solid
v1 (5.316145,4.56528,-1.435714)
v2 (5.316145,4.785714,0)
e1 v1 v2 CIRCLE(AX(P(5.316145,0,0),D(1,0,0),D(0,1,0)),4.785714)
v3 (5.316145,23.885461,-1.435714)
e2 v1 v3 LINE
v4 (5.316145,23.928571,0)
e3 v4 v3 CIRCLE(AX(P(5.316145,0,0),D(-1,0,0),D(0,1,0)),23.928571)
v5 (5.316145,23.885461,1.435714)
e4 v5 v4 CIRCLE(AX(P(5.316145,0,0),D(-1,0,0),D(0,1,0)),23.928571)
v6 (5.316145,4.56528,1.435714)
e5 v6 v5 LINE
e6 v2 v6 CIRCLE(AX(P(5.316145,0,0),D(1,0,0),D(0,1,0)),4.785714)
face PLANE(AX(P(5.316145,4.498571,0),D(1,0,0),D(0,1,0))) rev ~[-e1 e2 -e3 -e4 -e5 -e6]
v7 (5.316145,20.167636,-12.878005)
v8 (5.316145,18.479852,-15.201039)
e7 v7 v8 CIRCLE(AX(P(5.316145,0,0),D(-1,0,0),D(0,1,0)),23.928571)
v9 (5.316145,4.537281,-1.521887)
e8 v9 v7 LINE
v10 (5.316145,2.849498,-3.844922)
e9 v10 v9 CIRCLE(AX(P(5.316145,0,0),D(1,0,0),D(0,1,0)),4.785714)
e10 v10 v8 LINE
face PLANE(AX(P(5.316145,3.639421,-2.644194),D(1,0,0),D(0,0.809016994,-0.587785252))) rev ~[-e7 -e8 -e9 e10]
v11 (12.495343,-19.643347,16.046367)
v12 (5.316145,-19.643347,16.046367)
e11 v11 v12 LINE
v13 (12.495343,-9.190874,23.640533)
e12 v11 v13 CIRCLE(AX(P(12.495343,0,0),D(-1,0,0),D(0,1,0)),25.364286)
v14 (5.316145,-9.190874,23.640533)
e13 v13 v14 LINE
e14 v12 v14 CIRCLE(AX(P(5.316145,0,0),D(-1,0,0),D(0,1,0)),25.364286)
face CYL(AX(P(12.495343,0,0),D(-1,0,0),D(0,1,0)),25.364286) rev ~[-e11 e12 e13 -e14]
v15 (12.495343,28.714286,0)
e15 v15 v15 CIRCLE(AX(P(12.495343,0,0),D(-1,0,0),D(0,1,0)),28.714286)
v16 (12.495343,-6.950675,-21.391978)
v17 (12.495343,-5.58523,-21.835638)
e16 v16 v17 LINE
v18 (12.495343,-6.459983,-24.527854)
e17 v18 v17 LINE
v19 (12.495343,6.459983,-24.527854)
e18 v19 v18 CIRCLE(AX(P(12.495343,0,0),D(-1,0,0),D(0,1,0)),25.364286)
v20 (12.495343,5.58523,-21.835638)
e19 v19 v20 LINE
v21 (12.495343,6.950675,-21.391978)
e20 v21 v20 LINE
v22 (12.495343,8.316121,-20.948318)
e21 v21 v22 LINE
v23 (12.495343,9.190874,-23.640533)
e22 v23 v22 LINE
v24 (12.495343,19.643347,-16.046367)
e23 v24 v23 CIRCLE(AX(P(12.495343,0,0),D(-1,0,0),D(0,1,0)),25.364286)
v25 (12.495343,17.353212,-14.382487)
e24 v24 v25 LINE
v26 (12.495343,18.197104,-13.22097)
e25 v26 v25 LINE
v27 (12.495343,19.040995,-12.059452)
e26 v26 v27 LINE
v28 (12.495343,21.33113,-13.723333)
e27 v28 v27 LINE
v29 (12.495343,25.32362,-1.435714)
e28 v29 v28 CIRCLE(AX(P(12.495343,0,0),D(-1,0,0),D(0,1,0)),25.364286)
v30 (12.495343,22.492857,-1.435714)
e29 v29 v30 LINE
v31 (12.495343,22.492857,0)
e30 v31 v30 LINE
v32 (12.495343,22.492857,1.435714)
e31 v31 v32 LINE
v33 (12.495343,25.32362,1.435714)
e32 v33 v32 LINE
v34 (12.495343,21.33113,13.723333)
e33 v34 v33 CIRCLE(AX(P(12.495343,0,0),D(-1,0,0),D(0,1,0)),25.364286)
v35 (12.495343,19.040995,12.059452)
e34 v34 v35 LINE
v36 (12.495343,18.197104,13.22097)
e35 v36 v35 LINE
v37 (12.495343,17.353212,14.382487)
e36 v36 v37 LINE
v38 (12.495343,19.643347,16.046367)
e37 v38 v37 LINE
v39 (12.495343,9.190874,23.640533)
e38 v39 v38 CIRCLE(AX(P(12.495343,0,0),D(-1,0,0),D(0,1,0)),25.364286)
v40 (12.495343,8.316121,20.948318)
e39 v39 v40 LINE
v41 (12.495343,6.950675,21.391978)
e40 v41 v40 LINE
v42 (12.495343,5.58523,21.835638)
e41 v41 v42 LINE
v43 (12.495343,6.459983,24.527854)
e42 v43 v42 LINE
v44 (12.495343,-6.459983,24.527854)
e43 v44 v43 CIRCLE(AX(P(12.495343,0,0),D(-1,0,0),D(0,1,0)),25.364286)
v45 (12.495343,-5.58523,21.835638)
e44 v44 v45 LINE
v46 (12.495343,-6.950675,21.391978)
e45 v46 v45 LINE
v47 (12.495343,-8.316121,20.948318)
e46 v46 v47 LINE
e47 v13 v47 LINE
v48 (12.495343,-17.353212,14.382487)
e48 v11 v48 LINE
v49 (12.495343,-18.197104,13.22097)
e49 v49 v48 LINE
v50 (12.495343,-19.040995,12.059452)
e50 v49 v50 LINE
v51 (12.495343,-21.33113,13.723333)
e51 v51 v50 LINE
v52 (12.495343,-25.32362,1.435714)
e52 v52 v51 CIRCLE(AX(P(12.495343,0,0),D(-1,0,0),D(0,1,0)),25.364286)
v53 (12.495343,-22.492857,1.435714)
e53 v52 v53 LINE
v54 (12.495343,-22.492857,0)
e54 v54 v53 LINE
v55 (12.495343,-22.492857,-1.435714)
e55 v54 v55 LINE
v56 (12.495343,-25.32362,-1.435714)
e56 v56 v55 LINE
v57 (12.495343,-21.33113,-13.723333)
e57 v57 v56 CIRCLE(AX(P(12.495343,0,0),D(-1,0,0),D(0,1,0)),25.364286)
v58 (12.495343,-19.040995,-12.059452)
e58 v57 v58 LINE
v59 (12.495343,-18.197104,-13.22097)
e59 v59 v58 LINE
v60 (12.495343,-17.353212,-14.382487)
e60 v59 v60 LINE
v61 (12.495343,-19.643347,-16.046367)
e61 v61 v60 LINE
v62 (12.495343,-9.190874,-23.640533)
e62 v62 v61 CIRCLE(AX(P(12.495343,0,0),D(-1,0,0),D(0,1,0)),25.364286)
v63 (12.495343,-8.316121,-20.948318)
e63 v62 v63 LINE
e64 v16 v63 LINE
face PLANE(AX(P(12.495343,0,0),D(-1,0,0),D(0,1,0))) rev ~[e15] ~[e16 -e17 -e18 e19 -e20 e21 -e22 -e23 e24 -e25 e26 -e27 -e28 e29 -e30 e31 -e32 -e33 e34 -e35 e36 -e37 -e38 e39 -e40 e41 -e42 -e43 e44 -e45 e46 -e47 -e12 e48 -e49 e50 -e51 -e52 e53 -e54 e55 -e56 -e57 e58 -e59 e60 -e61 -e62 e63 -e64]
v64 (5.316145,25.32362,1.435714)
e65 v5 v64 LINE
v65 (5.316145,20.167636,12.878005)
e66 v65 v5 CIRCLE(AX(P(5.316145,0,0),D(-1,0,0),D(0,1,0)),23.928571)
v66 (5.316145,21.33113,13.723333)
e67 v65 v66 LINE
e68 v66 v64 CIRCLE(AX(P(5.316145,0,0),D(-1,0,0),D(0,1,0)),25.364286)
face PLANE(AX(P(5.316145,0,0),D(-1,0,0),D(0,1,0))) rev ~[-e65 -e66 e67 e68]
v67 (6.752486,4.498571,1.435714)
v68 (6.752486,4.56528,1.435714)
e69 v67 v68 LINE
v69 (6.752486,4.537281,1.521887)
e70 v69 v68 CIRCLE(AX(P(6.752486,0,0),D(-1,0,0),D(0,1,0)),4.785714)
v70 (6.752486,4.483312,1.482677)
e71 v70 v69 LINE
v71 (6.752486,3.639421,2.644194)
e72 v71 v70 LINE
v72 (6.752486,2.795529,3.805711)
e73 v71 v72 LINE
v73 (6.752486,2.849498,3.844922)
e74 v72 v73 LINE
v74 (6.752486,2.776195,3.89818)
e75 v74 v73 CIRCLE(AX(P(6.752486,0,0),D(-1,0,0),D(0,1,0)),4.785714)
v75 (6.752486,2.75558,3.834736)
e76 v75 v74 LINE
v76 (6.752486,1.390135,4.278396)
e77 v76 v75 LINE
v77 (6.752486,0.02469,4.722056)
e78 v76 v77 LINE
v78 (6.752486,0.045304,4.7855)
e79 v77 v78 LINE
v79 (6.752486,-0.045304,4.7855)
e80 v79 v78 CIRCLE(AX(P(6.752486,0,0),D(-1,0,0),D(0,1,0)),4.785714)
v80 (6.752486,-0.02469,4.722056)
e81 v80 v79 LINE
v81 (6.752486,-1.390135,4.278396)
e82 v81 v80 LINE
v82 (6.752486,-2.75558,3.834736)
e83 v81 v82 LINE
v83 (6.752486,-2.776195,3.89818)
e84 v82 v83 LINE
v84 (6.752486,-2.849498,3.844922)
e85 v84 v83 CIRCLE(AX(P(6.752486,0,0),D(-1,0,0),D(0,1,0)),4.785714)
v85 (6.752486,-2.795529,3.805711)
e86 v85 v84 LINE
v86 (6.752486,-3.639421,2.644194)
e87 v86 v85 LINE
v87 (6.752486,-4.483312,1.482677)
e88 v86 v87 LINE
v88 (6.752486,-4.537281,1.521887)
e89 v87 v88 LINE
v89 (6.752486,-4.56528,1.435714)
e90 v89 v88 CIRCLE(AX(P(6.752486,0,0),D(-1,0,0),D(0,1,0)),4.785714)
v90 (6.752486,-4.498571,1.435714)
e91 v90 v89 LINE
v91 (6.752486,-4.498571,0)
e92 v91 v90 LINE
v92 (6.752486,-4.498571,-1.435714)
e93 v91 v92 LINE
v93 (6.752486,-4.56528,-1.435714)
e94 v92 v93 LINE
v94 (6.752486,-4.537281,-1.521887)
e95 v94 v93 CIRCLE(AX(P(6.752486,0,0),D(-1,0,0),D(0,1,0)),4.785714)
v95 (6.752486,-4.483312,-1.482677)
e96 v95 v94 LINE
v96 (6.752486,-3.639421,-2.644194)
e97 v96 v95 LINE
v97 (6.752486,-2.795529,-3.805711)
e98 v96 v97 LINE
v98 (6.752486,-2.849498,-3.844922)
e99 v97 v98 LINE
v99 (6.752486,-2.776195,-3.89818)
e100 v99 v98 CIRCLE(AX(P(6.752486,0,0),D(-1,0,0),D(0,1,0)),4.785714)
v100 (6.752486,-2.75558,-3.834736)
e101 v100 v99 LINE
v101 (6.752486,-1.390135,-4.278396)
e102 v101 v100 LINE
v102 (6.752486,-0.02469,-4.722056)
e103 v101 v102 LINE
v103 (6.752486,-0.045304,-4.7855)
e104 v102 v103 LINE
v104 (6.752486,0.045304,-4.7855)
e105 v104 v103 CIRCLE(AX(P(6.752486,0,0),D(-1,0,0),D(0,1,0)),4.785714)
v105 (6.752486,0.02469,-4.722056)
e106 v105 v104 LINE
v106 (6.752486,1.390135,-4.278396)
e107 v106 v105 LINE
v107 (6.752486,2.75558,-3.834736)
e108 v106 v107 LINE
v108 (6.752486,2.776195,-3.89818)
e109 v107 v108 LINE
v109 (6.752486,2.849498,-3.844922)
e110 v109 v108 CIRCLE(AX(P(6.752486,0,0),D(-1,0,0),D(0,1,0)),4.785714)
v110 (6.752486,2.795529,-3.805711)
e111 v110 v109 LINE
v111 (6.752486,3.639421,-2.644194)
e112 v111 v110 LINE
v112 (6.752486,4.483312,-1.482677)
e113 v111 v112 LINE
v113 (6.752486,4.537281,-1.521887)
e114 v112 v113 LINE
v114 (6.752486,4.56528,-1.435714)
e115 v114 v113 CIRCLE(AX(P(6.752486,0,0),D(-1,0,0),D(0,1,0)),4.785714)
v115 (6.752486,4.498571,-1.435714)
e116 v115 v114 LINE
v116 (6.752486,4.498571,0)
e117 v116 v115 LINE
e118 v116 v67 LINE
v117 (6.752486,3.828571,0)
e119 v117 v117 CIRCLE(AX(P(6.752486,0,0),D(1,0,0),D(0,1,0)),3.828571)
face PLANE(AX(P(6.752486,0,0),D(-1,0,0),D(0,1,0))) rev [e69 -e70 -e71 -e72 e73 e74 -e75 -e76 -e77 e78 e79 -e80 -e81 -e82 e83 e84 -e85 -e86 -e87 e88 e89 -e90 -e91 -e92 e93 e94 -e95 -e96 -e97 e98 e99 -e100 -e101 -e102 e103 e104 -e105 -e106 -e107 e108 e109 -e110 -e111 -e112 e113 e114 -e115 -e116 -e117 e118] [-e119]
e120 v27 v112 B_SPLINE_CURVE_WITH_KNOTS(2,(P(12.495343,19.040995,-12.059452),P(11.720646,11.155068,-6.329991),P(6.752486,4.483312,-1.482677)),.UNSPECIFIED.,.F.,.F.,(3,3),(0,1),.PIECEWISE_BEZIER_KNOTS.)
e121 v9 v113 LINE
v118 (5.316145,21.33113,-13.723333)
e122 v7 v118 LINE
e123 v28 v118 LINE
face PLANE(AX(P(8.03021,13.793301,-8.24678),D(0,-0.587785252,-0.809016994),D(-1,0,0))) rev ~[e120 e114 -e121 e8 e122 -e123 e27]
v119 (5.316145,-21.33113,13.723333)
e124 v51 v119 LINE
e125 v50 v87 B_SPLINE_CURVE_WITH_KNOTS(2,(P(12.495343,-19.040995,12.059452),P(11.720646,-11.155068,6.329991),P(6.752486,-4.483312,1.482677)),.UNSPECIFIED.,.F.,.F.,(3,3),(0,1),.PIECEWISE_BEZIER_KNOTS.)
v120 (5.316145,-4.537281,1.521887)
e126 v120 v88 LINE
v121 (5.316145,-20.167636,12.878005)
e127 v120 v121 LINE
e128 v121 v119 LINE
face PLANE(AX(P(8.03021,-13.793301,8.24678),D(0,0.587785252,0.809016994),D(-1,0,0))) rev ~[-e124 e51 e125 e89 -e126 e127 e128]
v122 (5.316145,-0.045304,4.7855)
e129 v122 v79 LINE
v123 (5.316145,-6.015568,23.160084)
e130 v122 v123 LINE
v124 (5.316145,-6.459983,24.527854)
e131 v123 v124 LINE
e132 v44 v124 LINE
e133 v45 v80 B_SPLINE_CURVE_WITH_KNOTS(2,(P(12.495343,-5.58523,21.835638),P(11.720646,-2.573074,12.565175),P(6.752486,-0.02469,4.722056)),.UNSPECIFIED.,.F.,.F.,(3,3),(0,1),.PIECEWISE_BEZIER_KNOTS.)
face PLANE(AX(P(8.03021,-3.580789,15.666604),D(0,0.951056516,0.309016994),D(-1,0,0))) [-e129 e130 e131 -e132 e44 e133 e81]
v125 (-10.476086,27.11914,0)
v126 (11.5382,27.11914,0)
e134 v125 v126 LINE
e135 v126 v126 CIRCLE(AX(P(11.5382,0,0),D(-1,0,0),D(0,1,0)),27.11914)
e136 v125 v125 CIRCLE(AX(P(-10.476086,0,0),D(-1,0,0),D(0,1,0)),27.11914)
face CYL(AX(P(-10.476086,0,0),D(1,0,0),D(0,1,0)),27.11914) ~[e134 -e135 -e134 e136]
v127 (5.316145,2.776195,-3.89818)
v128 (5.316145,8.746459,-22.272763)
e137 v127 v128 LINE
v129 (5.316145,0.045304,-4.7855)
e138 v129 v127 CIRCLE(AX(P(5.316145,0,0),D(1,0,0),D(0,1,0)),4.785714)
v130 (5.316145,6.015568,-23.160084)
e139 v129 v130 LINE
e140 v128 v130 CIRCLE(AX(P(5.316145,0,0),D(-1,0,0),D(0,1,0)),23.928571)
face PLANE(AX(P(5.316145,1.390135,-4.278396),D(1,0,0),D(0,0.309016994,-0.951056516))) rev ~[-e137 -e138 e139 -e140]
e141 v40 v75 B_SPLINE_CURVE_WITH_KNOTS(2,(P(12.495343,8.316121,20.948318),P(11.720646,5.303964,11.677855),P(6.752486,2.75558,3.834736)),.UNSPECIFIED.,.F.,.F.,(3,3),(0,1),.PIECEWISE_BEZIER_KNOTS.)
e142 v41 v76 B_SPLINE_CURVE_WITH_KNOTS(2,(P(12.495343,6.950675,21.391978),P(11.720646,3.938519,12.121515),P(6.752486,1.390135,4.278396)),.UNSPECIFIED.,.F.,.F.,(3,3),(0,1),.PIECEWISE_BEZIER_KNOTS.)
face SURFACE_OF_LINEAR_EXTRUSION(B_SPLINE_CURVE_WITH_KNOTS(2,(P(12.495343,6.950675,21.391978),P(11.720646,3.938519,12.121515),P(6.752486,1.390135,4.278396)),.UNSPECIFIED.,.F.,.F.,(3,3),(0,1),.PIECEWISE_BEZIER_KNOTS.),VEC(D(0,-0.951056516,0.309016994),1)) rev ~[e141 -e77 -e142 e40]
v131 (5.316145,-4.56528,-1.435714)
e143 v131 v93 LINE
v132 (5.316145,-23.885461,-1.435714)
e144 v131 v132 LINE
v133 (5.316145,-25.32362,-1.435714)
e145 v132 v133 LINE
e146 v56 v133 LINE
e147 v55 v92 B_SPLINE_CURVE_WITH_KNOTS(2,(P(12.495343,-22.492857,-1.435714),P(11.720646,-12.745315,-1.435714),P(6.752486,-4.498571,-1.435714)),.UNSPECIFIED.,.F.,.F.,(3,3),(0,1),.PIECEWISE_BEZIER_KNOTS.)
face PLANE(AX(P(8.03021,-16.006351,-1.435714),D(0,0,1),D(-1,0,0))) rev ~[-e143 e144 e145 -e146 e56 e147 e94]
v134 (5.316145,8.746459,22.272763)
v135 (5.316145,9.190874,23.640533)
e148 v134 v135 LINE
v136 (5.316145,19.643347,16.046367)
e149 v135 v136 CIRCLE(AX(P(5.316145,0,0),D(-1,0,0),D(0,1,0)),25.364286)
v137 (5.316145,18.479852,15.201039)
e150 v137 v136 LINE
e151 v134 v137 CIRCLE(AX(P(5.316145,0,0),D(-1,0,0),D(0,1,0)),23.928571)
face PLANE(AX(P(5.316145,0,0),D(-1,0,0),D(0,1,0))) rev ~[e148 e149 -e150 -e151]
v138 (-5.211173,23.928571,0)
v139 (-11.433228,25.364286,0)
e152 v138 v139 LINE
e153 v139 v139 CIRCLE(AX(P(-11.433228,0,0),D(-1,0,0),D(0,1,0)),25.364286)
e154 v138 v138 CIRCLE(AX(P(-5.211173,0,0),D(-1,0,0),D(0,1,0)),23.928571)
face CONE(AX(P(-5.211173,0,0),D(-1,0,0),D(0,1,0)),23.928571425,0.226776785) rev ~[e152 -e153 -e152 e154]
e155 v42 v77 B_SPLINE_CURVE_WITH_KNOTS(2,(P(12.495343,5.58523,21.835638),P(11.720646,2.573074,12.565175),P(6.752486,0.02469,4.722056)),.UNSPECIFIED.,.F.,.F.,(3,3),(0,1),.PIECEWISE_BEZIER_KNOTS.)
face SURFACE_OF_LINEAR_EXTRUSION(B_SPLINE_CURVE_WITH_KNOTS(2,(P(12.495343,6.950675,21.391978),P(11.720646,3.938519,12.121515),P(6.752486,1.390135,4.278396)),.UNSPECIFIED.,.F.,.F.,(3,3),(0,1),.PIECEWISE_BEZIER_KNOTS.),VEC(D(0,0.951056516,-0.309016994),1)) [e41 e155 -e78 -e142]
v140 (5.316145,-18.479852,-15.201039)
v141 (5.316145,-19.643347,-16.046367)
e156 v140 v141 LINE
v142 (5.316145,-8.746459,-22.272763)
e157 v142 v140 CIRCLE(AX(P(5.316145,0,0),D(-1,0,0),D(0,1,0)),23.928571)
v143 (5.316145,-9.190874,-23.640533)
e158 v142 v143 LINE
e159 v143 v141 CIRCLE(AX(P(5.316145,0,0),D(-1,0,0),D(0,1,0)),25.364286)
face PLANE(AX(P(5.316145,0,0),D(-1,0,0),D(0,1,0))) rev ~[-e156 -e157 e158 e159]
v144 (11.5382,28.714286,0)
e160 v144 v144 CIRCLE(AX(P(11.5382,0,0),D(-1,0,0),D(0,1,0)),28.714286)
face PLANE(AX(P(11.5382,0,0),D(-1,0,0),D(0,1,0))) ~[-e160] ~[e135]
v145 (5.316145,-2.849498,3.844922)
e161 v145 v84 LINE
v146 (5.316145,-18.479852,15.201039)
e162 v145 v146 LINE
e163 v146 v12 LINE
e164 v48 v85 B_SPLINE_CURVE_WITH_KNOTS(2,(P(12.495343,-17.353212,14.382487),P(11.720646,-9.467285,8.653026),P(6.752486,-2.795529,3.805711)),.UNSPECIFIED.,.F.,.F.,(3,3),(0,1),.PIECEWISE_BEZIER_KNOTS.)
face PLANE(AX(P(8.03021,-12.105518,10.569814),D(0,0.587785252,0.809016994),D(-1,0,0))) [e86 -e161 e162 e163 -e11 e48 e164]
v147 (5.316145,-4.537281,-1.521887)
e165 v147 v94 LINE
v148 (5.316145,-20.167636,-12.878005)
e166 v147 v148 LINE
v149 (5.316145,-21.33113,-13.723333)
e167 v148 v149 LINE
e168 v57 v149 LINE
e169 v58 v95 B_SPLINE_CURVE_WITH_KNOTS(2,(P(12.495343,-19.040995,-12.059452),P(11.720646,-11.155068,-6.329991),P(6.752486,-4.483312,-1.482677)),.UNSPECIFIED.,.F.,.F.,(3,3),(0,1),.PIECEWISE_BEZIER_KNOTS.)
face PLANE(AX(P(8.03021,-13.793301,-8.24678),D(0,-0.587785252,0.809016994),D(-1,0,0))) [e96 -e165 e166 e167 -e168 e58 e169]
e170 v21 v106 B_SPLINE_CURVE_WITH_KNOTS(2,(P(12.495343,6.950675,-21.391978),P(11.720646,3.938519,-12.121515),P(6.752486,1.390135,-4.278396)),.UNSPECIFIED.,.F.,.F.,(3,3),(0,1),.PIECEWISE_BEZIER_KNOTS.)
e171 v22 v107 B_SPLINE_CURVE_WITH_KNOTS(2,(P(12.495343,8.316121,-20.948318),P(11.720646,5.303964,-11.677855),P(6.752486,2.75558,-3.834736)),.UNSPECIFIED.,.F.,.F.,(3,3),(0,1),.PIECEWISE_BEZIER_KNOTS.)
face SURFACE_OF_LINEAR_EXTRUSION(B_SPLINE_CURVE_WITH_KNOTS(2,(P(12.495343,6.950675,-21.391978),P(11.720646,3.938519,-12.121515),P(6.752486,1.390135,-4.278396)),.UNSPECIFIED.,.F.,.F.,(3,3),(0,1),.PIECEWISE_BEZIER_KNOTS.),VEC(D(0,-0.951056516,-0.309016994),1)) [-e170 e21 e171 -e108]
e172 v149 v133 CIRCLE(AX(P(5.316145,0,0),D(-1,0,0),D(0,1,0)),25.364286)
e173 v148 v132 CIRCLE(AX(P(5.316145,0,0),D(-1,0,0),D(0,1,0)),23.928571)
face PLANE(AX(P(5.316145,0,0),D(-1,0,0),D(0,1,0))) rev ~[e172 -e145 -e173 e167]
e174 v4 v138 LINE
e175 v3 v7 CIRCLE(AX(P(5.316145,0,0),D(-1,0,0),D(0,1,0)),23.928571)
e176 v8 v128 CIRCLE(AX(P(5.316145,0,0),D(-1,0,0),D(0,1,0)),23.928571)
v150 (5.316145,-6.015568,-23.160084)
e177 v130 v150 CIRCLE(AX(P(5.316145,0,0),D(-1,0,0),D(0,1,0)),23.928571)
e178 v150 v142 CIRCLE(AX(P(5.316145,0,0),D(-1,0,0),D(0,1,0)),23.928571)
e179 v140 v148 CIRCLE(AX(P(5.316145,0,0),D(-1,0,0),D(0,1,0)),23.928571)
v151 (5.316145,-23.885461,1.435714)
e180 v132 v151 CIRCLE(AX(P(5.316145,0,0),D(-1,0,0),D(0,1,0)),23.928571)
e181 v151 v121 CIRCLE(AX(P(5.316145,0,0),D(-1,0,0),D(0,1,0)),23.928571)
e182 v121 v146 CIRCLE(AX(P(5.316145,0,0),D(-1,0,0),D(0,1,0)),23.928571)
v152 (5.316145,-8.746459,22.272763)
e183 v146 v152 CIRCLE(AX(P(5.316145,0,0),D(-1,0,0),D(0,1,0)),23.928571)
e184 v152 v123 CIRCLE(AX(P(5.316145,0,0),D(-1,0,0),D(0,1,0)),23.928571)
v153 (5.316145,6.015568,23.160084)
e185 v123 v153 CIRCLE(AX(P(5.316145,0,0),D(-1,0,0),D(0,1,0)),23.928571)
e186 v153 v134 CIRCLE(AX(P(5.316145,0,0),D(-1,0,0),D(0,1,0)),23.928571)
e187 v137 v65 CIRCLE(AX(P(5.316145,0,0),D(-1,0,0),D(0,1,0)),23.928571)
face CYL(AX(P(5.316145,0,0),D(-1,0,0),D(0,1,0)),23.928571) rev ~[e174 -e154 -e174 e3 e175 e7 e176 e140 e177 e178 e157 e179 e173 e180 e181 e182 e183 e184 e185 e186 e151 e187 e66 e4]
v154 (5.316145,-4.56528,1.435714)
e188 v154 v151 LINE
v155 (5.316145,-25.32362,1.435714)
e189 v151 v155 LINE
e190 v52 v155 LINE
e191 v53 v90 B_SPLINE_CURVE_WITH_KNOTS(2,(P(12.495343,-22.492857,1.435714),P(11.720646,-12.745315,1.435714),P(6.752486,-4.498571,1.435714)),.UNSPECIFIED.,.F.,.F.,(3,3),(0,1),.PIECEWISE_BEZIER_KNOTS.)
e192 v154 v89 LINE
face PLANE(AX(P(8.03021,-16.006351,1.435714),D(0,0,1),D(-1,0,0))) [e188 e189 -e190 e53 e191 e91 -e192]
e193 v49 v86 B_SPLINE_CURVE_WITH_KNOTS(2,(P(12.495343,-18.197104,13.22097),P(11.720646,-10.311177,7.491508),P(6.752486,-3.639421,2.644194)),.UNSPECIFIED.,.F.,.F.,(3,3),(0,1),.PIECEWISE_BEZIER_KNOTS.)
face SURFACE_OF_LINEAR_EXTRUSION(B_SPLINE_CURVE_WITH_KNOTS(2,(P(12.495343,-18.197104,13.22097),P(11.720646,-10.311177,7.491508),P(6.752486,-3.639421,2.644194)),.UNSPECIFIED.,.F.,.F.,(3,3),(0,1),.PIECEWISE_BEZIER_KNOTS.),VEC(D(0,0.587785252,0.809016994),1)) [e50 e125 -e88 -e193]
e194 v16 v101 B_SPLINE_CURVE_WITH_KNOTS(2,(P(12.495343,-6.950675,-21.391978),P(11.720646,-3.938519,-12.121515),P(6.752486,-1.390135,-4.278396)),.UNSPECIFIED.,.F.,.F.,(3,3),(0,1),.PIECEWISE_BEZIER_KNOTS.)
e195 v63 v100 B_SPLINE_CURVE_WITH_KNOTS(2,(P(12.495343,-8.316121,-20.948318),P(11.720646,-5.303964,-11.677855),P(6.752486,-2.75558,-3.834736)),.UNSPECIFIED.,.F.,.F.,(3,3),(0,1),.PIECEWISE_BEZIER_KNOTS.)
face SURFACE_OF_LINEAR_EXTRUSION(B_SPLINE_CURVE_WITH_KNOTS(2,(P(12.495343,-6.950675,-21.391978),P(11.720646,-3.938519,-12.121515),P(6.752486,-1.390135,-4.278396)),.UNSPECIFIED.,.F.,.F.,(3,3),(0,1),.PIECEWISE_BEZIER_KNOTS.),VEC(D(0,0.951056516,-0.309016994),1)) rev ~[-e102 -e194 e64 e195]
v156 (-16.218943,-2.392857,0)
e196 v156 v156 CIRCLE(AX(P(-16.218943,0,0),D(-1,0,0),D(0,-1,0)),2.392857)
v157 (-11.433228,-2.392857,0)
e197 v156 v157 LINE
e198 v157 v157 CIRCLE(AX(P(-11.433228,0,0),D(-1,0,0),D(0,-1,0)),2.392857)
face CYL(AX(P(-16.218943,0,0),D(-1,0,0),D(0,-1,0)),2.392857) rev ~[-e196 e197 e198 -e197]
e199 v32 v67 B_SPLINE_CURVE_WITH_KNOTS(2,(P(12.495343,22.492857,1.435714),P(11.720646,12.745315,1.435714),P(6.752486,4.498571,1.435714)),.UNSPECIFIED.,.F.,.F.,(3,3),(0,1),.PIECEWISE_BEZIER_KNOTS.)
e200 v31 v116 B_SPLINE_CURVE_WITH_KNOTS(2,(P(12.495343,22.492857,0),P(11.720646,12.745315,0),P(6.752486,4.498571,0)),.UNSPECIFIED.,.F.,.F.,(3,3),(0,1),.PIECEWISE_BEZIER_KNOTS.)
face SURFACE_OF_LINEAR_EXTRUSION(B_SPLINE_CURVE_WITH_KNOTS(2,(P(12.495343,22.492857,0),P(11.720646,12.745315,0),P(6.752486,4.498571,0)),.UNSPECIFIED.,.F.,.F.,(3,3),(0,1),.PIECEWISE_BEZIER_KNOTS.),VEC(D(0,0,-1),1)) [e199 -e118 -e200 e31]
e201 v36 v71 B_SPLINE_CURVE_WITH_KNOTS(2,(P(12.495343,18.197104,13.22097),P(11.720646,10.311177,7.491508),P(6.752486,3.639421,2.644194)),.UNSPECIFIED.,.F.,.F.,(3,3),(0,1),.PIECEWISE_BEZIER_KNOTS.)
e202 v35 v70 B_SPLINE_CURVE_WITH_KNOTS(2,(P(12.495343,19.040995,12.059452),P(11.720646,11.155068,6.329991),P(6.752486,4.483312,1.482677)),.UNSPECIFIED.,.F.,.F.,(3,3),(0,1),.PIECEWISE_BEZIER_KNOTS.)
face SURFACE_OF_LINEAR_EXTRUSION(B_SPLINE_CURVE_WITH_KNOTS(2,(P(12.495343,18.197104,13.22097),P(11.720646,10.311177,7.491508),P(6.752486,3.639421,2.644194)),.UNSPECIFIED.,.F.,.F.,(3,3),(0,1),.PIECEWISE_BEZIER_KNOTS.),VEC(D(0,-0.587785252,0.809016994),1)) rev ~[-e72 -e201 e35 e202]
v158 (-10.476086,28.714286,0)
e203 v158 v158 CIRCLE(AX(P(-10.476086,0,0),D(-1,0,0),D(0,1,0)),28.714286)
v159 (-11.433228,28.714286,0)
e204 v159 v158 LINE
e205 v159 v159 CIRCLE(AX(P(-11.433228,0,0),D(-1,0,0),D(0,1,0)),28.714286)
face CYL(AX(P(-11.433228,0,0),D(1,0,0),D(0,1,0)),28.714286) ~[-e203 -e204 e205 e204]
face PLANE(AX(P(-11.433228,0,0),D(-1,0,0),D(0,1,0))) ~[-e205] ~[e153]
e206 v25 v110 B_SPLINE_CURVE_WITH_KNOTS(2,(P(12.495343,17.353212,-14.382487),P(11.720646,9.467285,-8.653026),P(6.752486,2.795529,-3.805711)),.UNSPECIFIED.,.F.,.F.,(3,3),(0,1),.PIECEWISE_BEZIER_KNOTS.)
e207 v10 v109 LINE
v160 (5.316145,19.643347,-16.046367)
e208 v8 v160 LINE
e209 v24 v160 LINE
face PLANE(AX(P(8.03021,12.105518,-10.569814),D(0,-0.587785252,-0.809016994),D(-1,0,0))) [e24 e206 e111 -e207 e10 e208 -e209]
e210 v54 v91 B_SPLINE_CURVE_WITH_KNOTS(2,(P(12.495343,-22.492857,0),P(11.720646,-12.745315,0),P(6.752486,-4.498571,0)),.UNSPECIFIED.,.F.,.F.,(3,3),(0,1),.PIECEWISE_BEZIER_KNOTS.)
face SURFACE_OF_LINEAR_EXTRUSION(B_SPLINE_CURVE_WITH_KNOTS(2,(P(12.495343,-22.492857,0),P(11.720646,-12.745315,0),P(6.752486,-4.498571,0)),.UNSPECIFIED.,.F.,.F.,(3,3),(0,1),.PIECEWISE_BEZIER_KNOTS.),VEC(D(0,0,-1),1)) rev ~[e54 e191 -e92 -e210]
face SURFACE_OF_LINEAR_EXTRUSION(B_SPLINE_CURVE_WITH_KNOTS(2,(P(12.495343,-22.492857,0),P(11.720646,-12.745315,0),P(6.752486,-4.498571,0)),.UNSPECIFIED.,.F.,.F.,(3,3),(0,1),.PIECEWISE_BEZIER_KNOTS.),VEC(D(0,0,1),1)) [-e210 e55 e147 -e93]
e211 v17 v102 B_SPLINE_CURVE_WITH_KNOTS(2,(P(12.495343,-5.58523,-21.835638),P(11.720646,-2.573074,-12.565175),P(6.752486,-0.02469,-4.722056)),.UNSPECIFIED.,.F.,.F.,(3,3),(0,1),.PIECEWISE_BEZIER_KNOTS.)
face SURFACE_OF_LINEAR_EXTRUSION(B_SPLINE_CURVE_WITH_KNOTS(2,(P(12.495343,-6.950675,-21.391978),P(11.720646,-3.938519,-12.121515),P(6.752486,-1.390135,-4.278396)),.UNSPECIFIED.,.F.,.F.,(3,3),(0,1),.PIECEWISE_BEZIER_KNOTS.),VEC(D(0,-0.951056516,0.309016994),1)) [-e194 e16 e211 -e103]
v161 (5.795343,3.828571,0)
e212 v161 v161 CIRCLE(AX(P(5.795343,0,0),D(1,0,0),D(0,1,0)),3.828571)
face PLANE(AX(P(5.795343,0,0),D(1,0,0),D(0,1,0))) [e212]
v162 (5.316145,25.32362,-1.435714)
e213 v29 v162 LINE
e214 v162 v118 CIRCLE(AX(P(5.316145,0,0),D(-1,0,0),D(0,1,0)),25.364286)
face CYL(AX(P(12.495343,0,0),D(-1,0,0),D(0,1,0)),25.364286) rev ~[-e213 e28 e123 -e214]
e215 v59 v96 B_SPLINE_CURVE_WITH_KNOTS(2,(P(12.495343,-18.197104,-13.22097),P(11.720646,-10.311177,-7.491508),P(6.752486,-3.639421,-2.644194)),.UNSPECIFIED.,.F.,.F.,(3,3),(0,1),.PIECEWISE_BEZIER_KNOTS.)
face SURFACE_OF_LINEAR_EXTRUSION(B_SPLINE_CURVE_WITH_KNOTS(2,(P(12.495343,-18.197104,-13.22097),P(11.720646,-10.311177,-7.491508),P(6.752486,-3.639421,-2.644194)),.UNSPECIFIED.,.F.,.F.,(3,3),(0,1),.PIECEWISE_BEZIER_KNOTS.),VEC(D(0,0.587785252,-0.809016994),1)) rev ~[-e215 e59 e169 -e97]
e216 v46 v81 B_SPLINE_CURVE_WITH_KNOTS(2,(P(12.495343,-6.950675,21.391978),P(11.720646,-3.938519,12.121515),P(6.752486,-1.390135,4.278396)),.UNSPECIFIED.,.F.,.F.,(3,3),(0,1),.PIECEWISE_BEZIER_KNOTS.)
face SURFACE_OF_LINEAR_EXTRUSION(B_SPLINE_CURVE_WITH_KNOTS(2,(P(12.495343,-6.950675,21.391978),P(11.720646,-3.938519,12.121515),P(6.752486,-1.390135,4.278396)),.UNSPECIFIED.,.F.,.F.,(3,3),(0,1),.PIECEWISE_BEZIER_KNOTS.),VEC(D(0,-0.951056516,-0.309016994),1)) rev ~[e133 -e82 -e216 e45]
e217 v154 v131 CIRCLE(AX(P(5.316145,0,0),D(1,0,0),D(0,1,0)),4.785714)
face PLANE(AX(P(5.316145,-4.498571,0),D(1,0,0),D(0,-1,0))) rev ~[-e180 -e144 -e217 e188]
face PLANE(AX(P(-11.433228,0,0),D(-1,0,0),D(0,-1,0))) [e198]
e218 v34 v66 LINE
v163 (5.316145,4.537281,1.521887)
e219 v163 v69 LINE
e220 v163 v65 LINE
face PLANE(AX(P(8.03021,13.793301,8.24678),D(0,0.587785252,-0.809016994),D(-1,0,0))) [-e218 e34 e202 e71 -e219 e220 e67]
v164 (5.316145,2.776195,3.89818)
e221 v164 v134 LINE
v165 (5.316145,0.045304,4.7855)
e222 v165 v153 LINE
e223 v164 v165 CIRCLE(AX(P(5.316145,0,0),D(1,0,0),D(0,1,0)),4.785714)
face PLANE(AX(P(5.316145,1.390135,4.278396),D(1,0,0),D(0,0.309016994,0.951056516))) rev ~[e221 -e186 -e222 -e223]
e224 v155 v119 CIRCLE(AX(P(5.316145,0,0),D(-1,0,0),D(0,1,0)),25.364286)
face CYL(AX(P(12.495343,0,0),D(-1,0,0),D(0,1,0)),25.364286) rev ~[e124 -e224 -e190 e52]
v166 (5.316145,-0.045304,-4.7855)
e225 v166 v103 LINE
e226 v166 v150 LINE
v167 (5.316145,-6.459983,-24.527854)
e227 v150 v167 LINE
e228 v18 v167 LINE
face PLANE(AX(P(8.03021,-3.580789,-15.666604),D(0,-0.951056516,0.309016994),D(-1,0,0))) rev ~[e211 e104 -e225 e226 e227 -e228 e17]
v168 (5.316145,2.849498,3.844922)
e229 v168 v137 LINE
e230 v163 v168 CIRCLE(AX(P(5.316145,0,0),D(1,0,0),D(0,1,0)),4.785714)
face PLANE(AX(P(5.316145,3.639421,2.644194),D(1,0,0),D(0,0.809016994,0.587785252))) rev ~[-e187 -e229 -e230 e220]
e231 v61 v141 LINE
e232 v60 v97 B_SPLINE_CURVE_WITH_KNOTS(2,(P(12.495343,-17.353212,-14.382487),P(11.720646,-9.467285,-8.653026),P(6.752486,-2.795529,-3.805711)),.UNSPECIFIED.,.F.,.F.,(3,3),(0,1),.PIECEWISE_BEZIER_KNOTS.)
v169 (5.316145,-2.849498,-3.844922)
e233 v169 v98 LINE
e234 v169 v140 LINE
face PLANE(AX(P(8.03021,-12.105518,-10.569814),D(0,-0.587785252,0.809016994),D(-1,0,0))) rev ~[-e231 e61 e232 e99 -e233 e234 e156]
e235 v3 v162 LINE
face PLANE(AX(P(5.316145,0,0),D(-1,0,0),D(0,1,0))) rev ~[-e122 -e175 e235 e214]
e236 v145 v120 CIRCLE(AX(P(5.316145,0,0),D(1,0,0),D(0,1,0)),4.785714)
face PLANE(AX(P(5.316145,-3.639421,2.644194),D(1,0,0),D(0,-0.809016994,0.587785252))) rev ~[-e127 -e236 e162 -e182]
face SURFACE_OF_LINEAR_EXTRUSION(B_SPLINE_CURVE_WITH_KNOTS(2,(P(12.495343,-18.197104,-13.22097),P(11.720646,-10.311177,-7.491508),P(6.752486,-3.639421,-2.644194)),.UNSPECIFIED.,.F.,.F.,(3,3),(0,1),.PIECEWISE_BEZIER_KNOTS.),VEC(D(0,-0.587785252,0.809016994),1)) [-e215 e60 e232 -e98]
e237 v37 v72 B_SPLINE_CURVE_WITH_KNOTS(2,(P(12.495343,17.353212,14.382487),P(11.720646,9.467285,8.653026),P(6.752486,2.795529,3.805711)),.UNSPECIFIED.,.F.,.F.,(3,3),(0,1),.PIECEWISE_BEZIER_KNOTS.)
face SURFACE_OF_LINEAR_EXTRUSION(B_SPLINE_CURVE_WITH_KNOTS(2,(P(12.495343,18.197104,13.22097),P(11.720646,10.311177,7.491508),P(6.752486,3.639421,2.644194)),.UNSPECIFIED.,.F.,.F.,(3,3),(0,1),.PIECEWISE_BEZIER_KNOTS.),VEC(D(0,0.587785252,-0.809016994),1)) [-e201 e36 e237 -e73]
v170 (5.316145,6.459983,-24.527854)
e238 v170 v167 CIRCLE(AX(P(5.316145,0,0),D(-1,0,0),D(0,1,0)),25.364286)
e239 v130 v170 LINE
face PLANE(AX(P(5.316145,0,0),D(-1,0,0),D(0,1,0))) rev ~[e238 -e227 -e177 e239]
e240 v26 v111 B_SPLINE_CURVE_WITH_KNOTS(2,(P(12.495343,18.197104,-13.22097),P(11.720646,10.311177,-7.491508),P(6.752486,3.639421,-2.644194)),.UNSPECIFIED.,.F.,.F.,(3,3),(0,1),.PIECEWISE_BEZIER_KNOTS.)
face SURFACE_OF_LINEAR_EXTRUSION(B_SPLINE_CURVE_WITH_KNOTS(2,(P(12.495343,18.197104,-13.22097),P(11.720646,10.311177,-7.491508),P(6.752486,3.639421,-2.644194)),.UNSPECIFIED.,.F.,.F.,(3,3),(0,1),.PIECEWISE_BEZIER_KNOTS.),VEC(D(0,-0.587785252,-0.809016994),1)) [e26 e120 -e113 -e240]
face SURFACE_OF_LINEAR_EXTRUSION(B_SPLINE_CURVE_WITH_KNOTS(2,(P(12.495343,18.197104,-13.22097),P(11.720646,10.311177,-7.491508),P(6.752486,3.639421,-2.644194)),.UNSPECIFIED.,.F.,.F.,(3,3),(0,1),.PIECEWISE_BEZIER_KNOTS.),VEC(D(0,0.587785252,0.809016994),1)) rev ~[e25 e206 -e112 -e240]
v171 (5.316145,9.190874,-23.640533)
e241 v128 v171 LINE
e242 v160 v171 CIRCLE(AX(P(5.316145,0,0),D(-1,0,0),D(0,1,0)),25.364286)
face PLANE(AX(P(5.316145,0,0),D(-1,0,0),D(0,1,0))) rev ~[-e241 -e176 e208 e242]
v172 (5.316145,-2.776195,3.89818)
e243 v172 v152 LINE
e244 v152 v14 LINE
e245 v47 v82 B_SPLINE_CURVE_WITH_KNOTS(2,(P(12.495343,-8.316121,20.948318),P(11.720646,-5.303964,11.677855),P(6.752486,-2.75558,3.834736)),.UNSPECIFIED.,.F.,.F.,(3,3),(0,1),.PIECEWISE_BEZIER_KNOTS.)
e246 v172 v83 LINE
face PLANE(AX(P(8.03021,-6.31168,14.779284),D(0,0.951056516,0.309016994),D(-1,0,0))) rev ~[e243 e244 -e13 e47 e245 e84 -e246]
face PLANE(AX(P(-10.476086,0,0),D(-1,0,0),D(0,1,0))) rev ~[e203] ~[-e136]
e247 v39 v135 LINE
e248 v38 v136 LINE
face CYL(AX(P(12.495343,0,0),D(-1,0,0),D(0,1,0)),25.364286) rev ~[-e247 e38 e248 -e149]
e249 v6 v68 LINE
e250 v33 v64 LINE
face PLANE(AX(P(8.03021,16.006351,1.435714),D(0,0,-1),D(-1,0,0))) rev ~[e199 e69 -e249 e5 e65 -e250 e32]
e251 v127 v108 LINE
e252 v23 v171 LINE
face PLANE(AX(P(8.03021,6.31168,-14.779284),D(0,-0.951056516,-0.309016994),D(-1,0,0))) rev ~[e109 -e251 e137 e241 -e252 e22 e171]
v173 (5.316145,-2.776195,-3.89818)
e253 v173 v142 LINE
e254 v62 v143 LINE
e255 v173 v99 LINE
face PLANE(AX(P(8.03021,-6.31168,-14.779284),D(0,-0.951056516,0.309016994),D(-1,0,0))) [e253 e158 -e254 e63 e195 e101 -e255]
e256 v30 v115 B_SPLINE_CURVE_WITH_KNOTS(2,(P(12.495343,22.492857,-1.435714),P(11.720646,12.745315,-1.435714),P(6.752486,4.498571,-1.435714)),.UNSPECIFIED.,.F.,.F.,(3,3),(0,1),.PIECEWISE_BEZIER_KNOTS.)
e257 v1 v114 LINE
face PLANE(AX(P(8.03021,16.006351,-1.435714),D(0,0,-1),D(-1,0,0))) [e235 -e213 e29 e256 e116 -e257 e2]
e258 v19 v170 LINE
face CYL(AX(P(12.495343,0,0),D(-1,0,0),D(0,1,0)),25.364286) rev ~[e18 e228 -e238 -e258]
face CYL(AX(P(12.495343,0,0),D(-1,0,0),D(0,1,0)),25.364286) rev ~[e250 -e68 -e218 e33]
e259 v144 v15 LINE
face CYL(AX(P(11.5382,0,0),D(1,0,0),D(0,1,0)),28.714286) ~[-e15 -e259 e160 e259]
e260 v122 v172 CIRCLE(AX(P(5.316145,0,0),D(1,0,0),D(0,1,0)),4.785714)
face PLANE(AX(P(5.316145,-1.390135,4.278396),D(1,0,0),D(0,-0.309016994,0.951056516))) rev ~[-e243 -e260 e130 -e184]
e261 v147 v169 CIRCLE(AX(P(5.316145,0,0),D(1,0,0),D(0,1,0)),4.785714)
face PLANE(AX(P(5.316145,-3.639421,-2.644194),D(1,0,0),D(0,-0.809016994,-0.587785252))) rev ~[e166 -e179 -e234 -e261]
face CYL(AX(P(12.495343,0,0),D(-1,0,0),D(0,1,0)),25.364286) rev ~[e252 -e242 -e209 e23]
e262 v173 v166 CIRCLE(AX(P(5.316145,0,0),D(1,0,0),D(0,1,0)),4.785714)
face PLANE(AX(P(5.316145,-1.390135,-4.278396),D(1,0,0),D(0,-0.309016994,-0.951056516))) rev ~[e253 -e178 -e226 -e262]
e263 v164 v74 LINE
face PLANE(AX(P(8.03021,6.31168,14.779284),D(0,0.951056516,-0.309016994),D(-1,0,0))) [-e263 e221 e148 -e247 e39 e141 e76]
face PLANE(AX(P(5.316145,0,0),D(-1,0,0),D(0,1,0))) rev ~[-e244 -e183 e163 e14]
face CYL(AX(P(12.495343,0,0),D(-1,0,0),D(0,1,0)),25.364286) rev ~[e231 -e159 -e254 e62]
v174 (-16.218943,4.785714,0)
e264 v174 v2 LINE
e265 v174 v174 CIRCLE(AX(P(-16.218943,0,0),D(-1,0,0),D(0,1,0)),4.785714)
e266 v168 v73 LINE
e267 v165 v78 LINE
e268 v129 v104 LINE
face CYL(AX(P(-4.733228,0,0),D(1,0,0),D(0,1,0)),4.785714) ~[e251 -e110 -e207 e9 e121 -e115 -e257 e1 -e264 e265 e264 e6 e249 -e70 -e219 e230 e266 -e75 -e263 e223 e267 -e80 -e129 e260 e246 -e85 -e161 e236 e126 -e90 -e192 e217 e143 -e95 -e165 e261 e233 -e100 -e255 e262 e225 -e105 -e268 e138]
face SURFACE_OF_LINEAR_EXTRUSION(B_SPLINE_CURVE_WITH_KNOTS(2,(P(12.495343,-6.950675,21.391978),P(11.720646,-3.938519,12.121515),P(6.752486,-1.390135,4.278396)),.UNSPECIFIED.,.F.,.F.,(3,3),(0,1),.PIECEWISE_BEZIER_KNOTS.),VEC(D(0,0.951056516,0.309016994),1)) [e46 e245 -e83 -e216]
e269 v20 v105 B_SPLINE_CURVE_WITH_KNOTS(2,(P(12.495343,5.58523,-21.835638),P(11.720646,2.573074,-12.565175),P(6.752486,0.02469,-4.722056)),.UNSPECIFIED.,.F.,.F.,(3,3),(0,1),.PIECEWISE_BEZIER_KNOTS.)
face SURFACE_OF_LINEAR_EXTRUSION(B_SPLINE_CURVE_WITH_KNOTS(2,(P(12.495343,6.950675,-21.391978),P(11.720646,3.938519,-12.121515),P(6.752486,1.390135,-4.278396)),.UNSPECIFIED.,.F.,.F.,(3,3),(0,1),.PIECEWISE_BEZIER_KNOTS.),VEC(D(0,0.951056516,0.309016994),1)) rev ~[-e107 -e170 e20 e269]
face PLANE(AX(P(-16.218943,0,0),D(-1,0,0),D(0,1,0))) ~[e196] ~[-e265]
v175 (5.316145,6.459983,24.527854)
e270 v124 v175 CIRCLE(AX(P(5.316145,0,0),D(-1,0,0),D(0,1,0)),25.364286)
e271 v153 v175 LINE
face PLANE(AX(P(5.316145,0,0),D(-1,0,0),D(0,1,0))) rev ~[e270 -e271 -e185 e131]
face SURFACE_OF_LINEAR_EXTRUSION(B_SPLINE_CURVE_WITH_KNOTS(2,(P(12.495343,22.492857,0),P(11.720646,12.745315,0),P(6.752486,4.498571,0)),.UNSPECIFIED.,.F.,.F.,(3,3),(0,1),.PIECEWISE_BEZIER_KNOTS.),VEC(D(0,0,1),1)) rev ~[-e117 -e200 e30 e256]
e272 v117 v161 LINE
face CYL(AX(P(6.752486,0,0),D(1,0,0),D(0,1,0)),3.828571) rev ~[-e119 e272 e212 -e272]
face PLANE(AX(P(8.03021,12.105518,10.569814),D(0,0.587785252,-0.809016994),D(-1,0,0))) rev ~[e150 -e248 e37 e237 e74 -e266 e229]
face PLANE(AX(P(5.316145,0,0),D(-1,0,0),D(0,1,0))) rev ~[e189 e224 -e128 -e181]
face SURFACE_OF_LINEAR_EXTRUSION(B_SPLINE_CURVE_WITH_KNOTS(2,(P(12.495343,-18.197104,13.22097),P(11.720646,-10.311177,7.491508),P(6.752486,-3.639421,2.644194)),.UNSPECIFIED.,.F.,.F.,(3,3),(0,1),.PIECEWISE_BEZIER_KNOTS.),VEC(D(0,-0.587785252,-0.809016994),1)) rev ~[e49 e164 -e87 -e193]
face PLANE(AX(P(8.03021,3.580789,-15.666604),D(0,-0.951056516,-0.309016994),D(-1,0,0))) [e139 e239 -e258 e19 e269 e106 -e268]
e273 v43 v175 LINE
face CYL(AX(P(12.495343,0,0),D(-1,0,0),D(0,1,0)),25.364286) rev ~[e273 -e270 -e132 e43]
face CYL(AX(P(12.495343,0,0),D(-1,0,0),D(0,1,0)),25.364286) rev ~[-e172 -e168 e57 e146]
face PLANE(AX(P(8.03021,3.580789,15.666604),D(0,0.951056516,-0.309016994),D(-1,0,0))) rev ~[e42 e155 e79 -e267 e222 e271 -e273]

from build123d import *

# Parameters (mm, degrees)
CROQUIS1_W              = 24
CROQUIS1_H              = 5
SALIENTE_EXTRUIR1_DEPTH = 1.5
MATRIZC1_COUNT          = 10
CROQUIS3_R              = 4
CORTAR_EXTRUIR1_DEPTH   = 1
CROQUIS4_R              = 2.5
CORTAR_EXTRUIR2_DEPTH   = 5
SCALE1_SCALE            = 0.957142857


with BuildPart() as part:
    # Croquis1 → Revolución1 (revolve)
    with BuildSketch(Plane.XY):
        Polygon((-12, 26.5), (-12, 30), (-11, 30), (-11, 28.33342991), (12, 28.33342991), (12, 30), (13, 30), (13, 26.5), (5.499345391, 26.5), (5.499345391, 25), (-5.499345391, 25), align=None)
        with Locations((-5, 2.5)):
            Rectangle(CROQUIS1_W, CROQUIS1_H)
    revolve(axis=Axis((-17, 0, 0), (-1, 0, 0)))

    # Croquis2 → Saliente-Extruir1 (add, symmetric)
    with BuildSketch(Plane.XY):
        with BuildLine():
            Line((13, 26.5), (13, 23.5))
            add(Edge.make_bspline(
                [(13, 23.5), (12.190614948, 13.316000856), (7, 4.7)],
                knots=[0, 0, 0, 1, 1, 1], degree=2))
            Line((7, 4.7), (5.499345391, 4.7))
            Line((5.499345391, 4.7), (5.499345391, 26.5))
            Line((5.499345391, 26.5), (13, 26.5))
        make_face()
    saliente_extruir1 = extrude(amount=SALIENTE_EXTRUIR1_DEPTH, both=True)

    # MatrizC1: Saliente-Extruir1 ×10 about axis
    matrizc1_axis = Axis((5.499345391, 0, 0), (1, 0, 0))
    for i in range(1, MATRIZC1_COUNT):
        add(saliente_extruir1.rotate(matrizc1_axis, i * 360 / MATRIZC1_COUNT))

    # Croquis3 → Cortar-Extruir1 (cut)
    with BuildSketch(Plane(origin=(7, 0, 0), x_dir=(0, 0, -1), z_dir=(1, 0, 0))):
        with Locations(Location((0, 0, 0), (0, 0, 90))):
            Circle(CROQUIS3_R)
    extrude(amount=-CORTAR_EXTRUIR1_DEPTH, mode=Mode.SUBTRACT)

    # Croquis4 → Cortar-Extruir2 (cut)
    with BuildSketch(Plane.ZY.offset(17)):
        with Locations(Location((0, 0, 0), (0, 0, 270))):
            Circle(CROQUIS4_R)
    extrude(amount=-CORTAR_EXTRUIR2_DEPTH, mode=Mode.SUBTRACT)


with BuildPart() as part_1:
    # Scale1: scaled about (1.224671263, 0, 0)
    add(part.part.scale(SCALE1_SCALE).moved(Location((0.052485911, 0, 0))))


solid = part_1.part
